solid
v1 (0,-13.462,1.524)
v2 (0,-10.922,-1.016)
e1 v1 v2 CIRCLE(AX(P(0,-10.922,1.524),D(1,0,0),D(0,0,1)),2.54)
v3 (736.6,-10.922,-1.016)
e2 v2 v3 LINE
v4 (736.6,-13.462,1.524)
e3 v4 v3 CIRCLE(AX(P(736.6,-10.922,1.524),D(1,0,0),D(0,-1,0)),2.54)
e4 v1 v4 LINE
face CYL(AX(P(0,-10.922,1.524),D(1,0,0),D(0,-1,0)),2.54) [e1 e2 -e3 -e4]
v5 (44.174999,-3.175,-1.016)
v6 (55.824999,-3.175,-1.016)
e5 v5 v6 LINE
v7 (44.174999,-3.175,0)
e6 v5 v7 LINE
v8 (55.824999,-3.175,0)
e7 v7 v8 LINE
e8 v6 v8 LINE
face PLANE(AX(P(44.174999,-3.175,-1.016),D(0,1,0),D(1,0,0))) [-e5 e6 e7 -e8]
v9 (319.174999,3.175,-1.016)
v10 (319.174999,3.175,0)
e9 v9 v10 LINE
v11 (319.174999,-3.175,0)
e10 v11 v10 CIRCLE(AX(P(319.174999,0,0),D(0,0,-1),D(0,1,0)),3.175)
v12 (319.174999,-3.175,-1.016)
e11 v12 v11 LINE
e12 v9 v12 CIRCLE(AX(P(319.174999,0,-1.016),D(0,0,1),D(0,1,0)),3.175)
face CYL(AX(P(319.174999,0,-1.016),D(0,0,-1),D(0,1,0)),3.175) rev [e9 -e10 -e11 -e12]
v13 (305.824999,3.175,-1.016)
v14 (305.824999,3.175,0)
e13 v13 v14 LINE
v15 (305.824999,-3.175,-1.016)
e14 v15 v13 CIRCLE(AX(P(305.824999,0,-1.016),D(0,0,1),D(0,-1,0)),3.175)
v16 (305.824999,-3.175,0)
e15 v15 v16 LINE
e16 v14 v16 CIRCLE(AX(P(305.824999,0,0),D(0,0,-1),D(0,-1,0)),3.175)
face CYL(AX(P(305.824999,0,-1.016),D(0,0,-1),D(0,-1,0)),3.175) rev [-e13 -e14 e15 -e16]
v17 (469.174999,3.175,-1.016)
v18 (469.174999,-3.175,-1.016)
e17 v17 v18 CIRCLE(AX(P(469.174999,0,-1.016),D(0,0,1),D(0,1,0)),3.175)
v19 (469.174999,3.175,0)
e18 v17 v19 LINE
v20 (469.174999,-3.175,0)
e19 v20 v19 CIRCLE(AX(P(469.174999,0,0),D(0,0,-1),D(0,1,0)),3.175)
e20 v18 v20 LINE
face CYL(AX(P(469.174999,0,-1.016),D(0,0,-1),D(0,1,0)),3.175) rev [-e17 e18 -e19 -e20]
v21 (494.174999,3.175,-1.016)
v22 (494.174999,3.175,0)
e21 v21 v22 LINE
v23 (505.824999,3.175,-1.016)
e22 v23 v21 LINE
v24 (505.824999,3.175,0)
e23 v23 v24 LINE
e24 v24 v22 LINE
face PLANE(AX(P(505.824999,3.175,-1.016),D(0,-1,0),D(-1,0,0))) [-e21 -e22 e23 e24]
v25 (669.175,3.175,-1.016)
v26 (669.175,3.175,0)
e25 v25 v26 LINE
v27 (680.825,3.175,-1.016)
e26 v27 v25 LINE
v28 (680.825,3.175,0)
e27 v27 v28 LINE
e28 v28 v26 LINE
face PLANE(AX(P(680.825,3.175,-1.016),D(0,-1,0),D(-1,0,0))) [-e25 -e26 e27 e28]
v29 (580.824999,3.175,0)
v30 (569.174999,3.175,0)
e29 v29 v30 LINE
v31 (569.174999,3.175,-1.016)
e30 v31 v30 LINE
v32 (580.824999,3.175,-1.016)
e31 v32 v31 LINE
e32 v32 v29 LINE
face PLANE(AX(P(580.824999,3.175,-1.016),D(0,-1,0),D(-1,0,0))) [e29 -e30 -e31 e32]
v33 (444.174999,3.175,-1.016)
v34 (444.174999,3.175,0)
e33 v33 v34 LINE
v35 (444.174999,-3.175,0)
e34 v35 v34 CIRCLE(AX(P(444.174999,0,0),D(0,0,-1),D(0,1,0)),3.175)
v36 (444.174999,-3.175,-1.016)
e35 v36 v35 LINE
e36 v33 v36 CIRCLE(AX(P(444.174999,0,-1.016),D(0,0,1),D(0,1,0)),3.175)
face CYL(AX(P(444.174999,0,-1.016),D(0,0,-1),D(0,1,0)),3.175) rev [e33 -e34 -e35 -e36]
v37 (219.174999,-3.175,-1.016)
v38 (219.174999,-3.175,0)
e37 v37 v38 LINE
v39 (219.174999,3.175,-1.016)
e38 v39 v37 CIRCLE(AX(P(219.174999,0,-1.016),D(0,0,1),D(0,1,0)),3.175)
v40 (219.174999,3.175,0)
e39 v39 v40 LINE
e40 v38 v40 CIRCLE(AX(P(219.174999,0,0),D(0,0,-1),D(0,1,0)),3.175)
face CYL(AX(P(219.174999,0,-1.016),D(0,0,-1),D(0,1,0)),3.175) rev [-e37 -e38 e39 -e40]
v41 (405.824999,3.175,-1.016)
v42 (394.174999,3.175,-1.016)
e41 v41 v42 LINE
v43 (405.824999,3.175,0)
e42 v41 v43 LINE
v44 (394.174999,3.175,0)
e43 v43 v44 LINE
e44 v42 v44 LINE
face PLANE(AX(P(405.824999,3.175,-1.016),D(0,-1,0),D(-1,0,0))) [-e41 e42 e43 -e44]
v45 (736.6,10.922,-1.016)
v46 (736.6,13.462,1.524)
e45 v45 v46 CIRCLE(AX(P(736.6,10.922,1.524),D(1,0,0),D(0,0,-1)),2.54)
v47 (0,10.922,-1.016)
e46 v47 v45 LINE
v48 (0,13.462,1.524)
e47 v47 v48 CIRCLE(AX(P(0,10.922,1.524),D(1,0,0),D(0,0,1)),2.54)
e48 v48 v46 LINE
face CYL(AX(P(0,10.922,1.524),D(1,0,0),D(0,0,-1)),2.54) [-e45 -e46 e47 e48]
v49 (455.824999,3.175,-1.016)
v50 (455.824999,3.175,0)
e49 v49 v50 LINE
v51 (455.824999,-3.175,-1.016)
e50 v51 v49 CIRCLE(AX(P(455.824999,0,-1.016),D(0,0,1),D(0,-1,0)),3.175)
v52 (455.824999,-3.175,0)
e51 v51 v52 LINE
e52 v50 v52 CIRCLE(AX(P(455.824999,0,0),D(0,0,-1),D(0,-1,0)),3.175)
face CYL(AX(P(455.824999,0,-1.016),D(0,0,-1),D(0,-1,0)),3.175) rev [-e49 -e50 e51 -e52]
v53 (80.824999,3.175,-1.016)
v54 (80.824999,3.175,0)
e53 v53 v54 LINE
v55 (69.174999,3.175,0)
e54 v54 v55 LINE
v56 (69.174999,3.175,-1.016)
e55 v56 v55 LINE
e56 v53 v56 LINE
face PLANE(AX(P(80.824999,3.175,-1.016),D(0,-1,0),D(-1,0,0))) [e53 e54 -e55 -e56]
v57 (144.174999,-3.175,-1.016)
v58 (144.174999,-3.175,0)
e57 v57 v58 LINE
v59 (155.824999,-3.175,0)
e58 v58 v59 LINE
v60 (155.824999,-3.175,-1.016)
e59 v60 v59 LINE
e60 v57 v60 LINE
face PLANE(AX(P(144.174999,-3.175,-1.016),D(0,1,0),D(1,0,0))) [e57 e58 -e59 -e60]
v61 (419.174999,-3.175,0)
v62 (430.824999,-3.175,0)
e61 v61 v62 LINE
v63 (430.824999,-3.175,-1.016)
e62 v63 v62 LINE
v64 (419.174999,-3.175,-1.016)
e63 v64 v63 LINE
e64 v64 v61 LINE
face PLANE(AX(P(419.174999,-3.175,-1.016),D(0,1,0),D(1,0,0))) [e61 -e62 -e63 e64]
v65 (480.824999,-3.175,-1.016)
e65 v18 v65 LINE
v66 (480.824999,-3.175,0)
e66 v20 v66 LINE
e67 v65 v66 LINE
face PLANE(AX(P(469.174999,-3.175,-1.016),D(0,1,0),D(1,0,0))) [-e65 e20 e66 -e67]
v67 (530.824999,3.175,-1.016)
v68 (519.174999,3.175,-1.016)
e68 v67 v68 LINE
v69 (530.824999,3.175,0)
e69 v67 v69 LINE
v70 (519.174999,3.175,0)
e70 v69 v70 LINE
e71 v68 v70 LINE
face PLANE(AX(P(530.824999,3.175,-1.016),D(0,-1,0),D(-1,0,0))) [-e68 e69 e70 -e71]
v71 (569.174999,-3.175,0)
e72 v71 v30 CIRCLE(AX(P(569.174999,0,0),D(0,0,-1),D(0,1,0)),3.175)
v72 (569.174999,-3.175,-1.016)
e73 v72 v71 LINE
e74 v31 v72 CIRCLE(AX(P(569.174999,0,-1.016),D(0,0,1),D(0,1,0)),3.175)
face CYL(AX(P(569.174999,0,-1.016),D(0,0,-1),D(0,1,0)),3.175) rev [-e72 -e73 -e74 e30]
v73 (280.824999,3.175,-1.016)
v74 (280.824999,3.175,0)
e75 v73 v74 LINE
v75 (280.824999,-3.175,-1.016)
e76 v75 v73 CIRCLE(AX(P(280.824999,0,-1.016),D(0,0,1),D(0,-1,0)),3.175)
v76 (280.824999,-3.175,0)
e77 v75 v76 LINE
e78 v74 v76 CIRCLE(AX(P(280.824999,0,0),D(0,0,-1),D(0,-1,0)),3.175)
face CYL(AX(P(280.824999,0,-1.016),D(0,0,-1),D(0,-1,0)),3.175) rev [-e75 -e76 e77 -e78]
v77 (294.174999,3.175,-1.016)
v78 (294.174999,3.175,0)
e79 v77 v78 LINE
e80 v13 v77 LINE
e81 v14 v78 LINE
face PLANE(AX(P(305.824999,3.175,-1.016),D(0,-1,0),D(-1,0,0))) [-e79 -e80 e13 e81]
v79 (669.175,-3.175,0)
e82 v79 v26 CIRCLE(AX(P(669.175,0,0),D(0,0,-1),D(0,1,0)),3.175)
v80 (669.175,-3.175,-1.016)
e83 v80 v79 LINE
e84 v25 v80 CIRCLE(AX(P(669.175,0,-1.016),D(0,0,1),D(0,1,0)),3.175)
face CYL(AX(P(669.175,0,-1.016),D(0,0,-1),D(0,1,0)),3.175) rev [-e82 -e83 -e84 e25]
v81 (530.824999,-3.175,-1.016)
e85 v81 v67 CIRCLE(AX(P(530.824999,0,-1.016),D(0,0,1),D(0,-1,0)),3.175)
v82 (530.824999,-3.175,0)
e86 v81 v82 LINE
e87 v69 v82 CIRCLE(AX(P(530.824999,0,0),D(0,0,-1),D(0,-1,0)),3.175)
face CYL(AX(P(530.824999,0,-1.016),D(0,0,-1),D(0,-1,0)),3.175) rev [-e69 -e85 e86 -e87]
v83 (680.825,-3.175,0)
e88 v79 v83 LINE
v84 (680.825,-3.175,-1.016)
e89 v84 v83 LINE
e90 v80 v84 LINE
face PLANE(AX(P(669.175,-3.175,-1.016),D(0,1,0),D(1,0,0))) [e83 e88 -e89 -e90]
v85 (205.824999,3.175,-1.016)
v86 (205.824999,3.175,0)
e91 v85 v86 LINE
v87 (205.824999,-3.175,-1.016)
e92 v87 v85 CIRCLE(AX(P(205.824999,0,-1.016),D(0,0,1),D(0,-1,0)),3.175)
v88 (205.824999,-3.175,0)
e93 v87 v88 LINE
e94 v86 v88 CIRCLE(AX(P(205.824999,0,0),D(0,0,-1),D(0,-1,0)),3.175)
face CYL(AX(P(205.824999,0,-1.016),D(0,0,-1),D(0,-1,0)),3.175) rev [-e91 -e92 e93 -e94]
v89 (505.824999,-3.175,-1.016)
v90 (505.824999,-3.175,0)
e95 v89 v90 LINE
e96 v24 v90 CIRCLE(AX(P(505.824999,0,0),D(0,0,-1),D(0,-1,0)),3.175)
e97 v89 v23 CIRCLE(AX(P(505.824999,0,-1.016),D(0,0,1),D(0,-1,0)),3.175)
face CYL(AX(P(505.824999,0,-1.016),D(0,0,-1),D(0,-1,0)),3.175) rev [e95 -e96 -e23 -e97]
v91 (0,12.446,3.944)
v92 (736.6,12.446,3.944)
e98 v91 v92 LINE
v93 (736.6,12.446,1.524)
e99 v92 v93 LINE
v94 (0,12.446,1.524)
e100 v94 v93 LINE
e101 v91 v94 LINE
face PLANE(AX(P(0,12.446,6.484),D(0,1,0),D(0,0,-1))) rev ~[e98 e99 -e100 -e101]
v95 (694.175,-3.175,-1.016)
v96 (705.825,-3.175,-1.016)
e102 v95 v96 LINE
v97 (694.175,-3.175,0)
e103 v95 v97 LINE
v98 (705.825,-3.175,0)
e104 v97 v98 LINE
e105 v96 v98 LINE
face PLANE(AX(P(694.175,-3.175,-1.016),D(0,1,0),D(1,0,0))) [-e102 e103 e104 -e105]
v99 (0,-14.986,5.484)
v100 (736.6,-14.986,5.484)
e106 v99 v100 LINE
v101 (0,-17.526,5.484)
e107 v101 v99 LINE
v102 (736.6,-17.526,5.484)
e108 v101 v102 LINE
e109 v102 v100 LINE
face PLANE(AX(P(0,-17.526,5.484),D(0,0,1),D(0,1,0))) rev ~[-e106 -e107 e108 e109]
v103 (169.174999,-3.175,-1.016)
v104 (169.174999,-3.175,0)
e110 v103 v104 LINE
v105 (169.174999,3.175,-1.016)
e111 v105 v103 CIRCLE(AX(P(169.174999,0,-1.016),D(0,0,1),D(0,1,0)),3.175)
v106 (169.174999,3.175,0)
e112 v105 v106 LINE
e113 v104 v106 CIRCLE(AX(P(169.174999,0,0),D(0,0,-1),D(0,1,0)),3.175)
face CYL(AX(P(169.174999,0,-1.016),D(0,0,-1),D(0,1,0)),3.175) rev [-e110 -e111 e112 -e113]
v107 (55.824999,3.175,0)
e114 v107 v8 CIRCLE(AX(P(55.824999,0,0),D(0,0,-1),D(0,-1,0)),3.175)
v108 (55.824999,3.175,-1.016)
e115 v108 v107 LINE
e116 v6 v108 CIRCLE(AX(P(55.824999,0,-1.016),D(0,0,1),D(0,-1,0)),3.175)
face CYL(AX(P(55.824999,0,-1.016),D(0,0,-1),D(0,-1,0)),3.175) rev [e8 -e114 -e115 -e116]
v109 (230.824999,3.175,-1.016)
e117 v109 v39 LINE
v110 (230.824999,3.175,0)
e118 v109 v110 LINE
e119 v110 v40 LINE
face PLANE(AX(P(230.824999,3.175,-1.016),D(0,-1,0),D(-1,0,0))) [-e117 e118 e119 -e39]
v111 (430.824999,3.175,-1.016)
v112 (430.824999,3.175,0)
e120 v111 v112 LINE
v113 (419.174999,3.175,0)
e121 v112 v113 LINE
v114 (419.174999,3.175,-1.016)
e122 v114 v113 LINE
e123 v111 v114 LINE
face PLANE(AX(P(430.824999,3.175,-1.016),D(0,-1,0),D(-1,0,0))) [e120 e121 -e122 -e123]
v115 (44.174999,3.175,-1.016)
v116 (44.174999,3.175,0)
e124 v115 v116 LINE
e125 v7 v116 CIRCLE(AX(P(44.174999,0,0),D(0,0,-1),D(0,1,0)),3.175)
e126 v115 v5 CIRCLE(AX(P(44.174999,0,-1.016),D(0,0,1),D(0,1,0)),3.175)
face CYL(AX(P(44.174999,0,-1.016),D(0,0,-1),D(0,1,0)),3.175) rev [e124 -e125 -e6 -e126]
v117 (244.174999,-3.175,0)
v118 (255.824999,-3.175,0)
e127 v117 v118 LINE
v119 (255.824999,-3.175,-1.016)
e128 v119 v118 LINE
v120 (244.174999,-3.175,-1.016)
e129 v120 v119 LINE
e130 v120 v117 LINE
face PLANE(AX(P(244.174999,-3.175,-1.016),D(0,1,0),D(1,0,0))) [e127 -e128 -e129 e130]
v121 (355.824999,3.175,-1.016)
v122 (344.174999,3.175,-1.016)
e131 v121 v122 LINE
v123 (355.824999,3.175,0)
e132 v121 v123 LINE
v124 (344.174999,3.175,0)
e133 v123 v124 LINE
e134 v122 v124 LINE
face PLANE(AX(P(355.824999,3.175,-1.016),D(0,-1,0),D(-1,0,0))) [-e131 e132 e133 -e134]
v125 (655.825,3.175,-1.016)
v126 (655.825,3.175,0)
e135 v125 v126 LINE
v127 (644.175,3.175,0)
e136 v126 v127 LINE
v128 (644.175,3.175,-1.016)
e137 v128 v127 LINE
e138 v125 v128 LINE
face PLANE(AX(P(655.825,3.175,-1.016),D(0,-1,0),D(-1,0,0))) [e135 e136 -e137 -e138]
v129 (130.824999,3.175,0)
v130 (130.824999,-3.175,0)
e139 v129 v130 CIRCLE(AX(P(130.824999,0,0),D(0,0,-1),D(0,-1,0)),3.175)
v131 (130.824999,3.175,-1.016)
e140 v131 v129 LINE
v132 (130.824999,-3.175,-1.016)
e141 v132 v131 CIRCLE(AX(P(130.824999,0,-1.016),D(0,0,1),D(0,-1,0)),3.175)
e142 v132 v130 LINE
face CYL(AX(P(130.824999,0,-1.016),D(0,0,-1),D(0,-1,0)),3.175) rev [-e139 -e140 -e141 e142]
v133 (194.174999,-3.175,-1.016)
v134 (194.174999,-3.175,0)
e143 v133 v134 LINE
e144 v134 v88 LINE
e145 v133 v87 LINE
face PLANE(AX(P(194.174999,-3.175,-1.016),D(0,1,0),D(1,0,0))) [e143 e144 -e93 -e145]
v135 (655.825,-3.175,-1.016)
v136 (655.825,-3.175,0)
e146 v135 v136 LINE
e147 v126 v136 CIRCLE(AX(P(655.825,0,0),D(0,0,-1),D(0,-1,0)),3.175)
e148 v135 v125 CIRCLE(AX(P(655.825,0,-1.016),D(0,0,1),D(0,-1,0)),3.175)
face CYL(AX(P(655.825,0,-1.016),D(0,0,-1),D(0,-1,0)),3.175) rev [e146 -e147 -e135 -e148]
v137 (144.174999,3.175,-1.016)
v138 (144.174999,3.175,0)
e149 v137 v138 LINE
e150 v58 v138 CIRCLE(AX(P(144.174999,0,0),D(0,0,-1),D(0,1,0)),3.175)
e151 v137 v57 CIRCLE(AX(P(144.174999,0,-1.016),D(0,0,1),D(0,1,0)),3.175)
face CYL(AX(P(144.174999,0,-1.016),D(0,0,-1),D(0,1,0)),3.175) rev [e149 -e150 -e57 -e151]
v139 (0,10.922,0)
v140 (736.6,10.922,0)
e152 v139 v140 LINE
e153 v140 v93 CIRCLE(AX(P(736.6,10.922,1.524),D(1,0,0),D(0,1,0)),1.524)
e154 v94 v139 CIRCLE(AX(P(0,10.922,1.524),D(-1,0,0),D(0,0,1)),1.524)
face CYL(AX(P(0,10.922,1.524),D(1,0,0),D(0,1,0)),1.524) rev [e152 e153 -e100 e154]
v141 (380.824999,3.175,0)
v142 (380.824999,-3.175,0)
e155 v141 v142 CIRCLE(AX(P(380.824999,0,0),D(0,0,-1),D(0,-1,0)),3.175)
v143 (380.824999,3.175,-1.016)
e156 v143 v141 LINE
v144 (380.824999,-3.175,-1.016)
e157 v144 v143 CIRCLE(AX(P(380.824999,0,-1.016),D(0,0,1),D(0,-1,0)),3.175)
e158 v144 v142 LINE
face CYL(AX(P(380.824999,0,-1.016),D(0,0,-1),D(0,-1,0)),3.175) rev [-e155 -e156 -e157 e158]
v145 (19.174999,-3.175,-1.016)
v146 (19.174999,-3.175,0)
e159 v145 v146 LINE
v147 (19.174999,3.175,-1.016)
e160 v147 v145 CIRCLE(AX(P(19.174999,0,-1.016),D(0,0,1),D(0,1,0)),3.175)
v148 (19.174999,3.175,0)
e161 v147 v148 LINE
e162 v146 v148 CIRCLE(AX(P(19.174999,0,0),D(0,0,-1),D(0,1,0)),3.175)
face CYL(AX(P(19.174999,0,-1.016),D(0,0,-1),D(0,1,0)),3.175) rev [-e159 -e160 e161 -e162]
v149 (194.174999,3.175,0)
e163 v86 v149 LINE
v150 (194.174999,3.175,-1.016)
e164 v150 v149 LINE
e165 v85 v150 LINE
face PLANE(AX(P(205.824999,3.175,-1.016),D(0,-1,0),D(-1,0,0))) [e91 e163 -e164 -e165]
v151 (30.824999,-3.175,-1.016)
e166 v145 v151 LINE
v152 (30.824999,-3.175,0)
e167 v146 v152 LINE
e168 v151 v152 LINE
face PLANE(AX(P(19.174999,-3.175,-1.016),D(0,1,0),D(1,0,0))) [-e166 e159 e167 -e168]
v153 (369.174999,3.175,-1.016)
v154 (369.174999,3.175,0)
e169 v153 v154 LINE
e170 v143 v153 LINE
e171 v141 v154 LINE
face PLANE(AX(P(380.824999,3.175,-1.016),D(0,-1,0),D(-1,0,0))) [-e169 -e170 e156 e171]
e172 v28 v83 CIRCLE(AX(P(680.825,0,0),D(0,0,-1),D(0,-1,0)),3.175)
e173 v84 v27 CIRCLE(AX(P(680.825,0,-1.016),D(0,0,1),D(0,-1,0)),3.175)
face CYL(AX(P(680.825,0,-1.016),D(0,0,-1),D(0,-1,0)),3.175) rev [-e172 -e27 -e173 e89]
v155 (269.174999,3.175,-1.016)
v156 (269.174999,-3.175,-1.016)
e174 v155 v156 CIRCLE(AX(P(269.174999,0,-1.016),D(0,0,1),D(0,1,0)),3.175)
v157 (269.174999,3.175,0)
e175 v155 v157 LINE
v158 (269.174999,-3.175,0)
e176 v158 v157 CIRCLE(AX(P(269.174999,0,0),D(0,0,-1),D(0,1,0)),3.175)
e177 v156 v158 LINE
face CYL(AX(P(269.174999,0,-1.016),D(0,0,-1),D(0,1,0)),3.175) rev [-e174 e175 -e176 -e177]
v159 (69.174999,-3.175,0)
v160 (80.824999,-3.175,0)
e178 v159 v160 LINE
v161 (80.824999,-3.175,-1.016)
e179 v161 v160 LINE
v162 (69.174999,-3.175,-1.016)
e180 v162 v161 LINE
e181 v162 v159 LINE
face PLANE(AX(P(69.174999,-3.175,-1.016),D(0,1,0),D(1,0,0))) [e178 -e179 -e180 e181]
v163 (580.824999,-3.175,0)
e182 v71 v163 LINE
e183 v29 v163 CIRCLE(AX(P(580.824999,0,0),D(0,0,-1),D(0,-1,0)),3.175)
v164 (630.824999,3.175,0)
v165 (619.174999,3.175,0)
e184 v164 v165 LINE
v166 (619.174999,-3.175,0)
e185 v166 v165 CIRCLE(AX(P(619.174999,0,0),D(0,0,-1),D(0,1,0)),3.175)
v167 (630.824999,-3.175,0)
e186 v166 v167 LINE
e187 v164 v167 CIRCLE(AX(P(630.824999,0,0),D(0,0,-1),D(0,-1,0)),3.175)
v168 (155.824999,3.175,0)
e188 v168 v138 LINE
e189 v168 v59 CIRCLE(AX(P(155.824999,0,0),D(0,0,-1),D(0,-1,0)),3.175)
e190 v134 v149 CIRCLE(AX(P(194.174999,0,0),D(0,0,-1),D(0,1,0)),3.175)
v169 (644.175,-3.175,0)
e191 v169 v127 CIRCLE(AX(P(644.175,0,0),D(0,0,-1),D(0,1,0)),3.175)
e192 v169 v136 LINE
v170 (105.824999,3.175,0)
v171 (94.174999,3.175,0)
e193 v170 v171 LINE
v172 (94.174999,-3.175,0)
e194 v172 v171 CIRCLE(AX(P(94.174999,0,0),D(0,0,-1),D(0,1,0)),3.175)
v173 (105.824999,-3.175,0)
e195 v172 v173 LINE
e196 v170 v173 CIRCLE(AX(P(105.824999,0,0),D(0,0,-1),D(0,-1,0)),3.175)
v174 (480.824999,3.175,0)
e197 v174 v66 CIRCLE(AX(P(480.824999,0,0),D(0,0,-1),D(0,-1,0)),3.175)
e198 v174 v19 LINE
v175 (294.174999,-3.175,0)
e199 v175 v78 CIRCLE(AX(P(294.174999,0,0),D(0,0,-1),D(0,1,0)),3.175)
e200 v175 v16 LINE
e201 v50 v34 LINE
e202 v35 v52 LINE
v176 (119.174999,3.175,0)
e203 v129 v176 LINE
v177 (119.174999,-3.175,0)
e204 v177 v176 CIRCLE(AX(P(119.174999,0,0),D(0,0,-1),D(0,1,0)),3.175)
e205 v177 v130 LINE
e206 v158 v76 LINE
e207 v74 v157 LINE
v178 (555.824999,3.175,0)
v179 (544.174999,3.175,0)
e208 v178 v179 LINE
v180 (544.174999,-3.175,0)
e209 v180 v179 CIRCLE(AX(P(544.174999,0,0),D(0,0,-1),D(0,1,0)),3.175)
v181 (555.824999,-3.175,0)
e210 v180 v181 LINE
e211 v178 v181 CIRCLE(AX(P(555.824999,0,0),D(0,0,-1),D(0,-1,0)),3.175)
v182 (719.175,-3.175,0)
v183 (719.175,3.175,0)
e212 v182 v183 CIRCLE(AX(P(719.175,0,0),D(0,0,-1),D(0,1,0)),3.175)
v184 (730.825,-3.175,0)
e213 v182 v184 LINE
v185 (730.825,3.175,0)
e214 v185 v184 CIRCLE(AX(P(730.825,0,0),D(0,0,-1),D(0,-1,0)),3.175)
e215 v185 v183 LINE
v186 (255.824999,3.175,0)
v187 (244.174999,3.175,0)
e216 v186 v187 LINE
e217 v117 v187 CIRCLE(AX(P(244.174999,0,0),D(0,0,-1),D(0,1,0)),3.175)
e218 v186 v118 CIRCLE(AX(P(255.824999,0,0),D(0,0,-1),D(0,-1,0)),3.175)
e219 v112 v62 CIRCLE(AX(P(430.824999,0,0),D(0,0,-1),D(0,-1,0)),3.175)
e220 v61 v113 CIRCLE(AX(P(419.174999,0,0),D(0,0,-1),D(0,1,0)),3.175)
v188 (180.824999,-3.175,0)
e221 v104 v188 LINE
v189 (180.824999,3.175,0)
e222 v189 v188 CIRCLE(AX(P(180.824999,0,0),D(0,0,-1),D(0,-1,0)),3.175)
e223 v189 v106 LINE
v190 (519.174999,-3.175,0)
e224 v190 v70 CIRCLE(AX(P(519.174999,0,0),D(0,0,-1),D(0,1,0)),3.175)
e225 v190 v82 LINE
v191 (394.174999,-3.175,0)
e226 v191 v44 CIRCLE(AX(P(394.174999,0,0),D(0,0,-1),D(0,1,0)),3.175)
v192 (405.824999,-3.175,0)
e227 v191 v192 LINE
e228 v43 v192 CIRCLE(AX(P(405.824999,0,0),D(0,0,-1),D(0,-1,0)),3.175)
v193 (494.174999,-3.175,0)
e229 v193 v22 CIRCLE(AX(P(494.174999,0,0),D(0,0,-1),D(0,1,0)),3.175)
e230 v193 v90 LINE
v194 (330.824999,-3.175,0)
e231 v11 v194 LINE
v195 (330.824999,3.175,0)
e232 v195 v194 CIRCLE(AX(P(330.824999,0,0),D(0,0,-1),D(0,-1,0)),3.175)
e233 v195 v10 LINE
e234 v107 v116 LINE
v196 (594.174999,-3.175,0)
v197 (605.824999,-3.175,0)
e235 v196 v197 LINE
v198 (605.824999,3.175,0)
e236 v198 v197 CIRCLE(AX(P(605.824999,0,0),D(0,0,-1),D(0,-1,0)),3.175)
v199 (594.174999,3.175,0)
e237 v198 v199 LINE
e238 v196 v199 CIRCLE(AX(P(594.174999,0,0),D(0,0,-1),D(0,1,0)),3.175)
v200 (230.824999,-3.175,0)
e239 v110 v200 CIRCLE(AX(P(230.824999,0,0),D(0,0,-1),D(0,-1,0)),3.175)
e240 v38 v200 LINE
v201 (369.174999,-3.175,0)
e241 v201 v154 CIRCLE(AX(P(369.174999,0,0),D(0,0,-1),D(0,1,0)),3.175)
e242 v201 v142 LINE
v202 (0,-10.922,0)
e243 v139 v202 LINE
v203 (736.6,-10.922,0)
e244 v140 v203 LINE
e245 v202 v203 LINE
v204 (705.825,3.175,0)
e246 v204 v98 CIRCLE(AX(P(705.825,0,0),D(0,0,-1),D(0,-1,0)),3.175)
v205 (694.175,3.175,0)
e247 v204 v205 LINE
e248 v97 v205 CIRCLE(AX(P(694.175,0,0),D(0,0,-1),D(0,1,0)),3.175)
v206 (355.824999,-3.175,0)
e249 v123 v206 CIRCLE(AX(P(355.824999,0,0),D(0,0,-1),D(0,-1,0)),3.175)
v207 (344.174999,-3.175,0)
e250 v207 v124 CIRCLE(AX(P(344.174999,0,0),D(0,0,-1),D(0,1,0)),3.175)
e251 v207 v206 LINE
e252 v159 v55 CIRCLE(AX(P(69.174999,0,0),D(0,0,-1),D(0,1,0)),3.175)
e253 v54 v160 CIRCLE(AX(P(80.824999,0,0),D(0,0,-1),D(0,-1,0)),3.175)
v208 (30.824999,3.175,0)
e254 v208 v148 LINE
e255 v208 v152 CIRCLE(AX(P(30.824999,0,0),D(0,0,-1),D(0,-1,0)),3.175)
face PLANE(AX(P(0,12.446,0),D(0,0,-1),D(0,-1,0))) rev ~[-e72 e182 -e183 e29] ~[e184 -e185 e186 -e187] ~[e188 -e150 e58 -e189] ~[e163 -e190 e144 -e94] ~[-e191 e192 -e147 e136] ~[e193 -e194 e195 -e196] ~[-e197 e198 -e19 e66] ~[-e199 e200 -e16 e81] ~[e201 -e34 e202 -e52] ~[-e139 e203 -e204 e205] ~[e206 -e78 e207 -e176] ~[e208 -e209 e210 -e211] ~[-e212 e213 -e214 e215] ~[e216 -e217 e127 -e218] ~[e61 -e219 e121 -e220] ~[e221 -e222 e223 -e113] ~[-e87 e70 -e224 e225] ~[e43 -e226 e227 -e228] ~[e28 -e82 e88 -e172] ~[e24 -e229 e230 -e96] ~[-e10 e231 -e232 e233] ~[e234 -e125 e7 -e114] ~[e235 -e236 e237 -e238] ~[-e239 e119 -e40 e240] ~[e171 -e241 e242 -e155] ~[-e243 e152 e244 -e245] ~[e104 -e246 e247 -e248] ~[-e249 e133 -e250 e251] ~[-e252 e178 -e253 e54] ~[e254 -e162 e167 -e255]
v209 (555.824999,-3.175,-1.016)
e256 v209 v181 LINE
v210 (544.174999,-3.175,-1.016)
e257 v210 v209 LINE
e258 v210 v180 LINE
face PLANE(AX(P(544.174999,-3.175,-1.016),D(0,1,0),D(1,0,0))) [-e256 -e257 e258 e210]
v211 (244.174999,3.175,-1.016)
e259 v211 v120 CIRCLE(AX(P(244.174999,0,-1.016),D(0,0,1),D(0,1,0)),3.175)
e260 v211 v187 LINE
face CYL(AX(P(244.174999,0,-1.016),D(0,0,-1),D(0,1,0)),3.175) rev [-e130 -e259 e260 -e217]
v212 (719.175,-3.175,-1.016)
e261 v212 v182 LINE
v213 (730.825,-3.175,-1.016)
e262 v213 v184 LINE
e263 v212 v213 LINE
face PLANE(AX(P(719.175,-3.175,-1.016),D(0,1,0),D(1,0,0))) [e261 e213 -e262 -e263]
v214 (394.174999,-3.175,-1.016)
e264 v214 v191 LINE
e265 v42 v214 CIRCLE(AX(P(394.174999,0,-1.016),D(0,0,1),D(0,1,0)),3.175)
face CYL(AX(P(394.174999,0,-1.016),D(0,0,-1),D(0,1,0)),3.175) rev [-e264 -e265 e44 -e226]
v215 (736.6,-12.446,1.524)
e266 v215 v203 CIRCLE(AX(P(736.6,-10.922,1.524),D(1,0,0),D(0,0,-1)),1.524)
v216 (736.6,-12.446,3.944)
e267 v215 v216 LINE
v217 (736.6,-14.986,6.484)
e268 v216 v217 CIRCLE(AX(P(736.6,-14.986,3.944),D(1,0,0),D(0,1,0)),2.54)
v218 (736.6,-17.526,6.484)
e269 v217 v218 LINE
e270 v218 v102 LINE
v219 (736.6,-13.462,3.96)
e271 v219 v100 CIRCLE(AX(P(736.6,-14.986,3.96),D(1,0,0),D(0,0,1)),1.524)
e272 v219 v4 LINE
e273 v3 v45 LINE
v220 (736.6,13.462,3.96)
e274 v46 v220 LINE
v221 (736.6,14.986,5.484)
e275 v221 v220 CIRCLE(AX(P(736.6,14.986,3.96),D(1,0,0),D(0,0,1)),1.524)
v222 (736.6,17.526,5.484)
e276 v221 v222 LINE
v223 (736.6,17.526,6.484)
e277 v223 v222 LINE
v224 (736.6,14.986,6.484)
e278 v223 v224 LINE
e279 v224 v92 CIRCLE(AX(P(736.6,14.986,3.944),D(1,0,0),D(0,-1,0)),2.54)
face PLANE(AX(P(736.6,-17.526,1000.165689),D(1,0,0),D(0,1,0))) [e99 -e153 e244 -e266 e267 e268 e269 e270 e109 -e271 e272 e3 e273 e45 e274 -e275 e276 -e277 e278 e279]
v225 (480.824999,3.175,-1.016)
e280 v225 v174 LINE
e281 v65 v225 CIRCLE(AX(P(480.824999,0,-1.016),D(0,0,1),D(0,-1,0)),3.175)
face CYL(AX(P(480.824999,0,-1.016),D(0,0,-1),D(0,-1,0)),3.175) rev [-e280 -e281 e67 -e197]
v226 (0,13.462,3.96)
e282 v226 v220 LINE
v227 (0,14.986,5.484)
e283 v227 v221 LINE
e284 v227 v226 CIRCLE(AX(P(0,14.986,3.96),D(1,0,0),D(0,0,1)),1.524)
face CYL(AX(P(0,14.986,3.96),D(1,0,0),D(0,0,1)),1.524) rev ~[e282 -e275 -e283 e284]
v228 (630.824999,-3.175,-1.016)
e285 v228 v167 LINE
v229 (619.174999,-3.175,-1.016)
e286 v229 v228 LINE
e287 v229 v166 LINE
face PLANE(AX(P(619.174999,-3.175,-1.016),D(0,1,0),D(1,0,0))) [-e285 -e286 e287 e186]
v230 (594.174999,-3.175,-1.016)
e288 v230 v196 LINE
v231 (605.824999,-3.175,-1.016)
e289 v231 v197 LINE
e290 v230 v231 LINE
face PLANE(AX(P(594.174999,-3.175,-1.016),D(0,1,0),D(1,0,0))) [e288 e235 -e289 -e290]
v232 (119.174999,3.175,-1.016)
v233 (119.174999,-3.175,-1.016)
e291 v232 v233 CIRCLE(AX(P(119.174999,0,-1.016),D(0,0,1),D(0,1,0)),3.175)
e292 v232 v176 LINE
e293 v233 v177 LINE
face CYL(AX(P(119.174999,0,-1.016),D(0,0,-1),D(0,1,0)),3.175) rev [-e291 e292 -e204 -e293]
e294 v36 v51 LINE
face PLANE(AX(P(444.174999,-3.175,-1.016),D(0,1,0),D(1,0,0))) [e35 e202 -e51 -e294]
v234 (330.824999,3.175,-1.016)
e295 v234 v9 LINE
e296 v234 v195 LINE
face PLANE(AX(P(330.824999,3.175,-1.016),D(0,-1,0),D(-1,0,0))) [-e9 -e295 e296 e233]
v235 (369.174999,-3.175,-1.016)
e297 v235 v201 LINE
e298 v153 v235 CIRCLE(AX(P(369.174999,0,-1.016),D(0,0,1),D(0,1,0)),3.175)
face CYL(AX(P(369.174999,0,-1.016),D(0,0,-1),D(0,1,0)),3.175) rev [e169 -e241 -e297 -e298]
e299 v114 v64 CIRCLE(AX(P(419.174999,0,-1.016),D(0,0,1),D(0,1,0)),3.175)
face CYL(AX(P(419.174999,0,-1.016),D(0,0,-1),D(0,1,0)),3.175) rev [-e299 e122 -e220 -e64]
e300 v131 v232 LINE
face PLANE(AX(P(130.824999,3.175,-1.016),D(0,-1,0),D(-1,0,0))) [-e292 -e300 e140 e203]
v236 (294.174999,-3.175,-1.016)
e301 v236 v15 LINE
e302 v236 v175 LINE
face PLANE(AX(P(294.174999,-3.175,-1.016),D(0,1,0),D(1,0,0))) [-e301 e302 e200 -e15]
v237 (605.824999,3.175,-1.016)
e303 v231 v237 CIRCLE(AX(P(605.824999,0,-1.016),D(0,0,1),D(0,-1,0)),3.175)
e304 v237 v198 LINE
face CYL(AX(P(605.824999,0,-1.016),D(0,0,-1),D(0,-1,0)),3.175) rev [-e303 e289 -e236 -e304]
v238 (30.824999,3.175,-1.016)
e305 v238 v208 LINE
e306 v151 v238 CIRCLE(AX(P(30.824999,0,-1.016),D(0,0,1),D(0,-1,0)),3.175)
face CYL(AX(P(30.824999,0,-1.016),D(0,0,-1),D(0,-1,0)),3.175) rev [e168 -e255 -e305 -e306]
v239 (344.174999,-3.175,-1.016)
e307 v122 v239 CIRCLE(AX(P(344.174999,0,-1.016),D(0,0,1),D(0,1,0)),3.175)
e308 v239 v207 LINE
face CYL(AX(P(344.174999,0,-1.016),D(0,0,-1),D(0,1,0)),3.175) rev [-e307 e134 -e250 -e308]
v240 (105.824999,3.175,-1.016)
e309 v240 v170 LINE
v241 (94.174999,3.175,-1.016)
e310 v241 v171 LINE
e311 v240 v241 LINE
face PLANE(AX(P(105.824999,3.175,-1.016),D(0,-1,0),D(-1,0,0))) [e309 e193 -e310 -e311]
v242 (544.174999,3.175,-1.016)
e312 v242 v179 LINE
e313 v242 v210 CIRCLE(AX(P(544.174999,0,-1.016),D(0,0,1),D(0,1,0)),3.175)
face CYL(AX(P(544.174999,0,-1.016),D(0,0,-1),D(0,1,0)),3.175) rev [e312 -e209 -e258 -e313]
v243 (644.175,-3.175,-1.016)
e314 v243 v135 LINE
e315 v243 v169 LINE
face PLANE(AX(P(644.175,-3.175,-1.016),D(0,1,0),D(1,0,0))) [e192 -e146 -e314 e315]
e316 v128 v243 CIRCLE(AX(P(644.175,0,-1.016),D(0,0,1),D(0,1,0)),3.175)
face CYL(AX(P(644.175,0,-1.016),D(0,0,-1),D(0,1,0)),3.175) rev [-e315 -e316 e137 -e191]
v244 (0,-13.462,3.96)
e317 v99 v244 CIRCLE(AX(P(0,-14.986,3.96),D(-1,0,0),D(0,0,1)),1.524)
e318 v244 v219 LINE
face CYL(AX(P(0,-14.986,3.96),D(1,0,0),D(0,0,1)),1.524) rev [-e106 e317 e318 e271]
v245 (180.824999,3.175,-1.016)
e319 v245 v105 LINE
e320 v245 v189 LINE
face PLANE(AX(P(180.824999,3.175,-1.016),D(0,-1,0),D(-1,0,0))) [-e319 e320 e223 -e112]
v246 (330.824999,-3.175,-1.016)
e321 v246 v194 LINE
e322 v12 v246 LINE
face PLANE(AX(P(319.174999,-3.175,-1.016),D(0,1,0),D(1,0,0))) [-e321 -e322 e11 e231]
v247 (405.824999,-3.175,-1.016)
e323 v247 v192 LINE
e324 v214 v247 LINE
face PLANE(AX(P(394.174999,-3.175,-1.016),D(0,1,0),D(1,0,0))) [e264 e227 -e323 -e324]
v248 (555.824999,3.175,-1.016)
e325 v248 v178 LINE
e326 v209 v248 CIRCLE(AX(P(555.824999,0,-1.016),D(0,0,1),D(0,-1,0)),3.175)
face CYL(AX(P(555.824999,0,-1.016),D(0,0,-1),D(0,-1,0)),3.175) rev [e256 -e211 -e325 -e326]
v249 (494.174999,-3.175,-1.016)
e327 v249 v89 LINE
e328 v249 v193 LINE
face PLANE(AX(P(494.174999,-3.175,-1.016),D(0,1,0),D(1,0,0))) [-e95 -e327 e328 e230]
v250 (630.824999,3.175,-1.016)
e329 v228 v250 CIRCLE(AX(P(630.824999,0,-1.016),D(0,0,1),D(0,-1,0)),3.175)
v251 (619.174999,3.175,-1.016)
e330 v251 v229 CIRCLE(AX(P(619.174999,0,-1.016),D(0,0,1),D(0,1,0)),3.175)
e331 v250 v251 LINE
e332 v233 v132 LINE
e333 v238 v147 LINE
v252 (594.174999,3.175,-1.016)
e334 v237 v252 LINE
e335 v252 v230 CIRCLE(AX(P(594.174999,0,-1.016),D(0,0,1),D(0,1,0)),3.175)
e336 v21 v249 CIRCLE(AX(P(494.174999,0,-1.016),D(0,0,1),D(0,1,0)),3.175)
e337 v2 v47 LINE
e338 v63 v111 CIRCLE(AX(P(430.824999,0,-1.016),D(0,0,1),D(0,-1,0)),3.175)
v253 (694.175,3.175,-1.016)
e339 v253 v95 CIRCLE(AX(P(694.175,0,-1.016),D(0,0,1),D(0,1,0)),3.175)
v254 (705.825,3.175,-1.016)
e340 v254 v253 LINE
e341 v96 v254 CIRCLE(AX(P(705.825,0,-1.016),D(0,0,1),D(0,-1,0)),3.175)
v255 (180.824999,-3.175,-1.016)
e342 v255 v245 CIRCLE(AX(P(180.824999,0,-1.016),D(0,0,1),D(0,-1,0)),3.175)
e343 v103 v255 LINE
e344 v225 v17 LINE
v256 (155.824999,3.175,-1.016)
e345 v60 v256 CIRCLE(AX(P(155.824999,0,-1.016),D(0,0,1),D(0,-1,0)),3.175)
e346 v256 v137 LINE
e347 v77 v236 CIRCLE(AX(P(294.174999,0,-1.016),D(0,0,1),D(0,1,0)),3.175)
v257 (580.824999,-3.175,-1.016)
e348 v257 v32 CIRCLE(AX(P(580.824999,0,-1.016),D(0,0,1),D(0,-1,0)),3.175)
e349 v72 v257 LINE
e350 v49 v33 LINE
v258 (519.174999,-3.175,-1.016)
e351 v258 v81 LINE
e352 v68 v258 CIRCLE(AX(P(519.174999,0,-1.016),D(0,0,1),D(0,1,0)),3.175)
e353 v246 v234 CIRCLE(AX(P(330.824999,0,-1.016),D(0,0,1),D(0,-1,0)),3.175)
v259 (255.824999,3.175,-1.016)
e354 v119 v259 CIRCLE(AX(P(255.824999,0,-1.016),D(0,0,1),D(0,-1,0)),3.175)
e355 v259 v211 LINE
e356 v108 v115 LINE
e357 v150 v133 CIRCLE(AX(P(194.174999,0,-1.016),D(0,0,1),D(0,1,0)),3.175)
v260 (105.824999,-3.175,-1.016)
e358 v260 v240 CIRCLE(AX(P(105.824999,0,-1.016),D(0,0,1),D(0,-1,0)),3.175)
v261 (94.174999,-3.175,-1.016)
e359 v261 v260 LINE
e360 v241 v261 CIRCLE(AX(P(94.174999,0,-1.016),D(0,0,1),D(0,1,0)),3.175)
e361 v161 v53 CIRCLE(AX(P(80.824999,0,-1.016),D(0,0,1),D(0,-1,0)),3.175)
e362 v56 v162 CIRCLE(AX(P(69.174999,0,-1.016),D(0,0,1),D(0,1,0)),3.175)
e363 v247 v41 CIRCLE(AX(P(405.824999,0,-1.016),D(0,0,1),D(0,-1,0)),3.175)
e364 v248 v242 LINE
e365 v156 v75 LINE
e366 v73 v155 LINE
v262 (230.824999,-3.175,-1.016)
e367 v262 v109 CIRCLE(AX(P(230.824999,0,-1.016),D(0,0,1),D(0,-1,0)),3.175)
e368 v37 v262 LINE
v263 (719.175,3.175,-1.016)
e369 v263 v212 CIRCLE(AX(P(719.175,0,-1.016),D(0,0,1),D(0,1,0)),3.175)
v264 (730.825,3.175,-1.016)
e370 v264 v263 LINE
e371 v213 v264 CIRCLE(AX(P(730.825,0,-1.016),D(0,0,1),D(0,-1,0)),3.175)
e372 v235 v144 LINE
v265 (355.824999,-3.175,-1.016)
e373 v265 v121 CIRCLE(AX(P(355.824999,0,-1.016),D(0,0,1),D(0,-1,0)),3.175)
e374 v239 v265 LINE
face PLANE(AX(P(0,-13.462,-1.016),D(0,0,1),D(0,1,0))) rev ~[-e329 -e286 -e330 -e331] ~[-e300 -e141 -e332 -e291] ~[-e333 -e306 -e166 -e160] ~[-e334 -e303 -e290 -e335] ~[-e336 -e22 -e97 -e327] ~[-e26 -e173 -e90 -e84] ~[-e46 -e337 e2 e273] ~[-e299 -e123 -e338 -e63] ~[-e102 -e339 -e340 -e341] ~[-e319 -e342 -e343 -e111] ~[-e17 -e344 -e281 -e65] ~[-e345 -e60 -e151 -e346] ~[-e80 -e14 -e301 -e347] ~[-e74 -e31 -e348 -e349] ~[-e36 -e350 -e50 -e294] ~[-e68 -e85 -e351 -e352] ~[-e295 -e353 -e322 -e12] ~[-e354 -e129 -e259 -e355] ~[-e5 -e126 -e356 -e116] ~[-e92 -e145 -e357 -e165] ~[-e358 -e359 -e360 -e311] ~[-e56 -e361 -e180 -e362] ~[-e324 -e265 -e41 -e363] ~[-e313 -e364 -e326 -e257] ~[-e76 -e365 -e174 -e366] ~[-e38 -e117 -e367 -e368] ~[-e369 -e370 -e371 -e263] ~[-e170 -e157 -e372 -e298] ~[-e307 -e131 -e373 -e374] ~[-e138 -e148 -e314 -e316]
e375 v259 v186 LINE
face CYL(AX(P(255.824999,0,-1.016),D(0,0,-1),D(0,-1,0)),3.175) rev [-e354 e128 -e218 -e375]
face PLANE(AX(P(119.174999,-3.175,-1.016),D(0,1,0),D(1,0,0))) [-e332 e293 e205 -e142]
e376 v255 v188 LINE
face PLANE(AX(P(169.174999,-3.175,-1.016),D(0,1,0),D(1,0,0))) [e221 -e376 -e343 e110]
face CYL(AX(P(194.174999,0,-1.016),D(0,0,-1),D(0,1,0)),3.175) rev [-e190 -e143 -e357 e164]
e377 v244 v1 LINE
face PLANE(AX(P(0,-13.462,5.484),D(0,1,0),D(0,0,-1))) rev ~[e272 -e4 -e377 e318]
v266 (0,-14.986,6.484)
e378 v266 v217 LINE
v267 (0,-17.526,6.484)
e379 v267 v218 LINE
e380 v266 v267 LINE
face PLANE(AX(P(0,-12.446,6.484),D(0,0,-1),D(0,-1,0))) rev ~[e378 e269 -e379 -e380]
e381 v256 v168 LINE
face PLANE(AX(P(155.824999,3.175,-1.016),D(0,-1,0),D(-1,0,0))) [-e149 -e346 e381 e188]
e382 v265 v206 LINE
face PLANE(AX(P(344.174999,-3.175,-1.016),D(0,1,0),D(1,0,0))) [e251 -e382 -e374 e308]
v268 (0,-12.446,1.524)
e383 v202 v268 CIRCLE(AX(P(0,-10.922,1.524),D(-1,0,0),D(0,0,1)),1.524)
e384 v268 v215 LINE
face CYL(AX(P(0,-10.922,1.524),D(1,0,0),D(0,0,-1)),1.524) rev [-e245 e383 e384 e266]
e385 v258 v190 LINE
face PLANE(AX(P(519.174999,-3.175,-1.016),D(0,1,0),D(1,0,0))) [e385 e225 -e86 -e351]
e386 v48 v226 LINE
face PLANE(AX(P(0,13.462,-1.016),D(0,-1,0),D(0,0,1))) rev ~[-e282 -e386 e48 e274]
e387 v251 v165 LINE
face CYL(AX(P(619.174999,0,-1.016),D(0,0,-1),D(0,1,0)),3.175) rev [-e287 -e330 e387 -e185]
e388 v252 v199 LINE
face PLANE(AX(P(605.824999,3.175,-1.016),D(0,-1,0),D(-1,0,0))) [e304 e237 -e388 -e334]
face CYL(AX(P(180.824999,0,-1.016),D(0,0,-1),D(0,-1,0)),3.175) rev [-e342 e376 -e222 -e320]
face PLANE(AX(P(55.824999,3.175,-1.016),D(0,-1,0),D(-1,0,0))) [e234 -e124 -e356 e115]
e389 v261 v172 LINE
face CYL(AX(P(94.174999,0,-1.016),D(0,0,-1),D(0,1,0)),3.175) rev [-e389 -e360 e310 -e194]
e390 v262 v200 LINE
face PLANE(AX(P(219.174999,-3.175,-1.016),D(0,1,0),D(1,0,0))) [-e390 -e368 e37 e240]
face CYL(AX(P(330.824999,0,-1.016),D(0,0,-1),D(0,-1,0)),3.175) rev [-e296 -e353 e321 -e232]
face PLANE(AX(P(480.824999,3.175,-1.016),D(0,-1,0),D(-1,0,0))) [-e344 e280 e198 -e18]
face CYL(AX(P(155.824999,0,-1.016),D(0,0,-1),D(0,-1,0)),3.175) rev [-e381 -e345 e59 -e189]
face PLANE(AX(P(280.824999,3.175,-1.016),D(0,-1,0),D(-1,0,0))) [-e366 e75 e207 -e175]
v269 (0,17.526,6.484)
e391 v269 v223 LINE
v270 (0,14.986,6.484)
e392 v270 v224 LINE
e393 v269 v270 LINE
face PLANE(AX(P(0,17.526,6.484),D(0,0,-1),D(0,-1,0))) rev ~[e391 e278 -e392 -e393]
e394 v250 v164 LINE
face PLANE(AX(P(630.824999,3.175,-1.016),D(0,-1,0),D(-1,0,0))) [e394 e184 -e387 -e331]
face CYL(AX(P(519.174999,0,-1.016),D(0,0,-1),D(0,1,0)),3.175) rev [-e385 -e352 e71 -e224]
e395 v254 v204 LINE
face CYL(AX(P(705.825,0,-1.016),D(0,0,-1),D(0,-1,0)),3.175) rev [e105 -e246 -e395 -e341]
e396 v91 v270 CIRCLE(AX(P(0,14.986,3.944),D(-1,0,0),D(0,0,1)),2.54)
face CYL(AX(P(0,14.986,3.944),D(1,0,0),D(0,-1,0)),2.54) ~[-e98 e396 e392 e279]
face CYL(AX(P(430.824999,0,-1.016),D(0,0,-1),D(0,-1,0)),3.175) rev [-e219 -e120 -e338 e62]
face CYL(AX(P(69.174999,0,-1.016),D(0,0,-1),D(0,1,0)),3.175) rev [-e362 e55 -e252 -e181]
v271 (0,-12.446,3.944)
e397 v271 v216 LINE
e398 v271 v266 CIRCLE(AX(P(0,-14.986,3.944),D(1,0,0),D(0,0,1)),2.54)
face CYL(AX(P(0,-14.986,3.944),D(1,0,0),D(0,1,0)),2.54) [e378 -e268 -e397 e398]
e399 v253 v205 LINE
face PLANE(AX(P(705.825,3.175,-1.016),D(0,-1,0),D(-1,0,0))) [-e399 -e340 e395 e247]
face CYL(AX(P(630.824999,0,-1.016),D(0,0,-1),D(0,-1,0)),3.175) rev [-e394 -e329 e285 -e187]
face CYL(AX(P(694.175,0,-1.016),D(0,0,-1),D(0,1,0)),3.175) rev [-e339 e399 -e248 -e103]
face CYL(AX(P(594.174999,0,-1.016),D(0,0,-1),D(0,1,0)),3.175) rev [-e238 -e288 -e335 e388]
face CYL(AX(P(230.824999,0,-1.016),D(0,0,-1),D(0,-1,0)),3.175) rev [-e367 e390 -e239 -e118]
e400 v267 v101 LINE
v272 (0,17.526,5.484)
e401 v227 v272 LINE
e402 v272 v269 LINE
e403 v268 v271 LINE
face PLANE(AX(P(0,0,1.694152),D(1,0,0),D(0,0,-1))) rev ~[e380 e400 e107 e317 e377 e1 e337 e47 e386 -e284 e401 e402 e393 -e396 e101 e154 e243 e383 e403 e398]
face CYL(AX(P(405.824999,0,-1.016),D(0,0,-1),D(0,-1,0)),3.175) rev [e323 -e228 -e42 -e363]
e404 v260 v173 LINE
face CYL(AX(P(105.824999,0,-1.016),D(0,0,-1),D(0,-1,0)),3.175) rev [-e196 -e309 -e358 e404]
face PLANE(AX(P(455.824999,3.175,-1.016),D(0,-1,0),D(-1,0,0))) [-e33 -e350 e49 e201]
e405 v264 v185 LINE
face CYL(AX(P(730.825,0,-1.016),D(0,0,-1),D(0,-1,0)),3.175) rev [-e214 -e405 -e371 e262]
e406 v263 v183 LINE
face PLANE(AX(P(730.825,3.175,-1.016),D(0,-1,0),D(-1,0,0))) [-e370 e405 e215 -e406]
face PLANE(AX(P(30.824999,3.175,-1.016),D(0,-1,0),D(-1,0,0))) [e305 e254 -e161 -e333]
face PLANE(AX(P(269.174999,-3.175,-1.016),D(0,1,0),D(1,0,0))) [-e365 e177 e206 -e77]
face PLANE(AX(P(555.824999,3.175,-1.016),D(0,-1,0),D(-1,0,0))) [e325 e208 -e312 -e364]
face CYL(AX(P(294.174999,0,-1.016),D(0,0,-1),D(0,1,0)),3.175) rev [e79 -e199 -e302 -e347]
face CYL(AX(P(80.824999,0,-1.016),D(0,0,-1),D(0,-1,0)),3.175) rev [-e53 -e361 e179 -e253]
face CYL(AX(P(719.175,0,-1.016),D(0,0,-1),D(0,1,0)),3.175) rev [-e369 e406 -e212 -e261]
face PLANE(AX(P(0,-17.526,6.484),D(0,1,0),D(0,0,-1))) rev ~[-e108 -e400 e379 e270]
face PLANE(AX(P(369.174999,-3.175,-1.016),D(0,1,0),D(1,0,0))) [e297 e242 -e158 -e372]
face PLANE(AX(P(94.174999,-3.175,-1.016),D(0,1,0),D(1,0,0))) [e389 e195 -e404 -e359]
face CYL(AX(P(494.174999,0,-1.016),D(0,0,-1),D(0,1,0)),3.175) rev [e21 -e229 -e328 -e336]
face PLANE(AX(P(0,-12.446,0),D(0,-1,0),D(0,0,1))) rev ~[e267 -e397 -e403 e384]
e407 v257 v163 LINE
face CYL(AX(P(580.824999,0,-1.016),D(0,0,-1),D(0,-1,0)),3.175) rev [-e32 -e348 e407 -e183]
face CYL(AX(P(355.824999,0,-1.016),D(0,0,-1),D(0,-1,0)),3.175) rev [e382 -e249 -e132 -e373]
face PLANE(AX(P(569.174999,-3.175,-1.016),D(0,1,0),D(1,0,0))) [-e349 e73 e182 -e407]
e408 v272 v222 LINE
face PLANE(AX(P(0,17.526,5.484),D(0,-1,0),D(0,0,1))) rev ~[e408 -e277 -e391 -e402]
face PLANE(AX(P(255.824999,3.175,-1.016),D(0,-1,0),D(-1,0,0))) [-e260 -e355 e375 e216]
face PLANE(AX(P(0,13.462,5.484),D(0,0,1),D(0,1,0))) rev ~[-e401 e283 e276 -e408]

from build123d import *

# Parameters (mm, degrees)
BOSS_EXTRUDE1_DEPTH     = 1000
CUT_EXTRUDE1_DEPTH      = 1001.181688833
FILLET1_R               = 2.54
FILLET2_R               = 1.524
CUT_EXTRUDE2_DEPTH      = 1001.181688833
CUT_EXTRUDE2_DEPTH_BACK = 1001.181688833
SKETCH3_W               = 263.4
SKETCH3_H               = 35.052


with BuildPart() as part:
    # Sketch1 → Boss-Extrude1 (new body)
    with BuildSketch(Plane(origin=(0, 0, 0), x_dir=(0, 0, -1), z_dir=(1, 0, 0))):
        Polygon((0, 12.446), (0, -12.446), (-6.484, -12.446), (-6.484, -17.526), (-5.484, -17.526), (-5.484, -13.462), (1.016, -13.462), (1.016, 13.462), (-5.484, 13.462), (-5.484, 17.526), (-6.484, 17.526), (-6.484, 12.446), align=None)
    extrude(amount=BOSS_EXTRUDE1_DEPTH)

    # Sketch2 → Cut-Extrude1 (cut, through all)
    with BuildSketch(Plane(origin=(0, 0, -1.016), x_dir=(-1, 0, 0), z_dir=(0, 0, -1))):
        with BuildLine():
            Line((-980.825, 3.175), (-969.175, 3.175))
            ThreePointArc((-969.175, 3.175), (-966, 0), (-969.175, -3.175))
            Line((-969.175, -3.175), (-980.825, -3.175))
            ThreePointArc((-980.825, -3.175), (-984, 0), (-980.825, 3.175))
        make_face()
        with BuildLine():
            Line((-955.824999962, 3.175), (-944.174999962, 3.175))
            ThreePointArc((-944.174999962, 3.175), (-940.999999962, 0), (-944.174999962, -3.175))
            Line((-944.174999962, -3.175), (-955.824999962, -3.175))
            ThreePointArc((-955.824999962, -3.175), (-958.999999962, 0), (-955.824999962, 3.175))
        make_face()
        with BuildLine():
            Line((-930.824999924, 3.175), (-919.174999924, 3.175))
            ThreePointArc((-919.174999924, 3.175), (-915.999999924, 0), (-919.174999924, -3.175))
            Line((-919.174999924, -3.175), (-930.824999924, -3.175))
            ThreePointArc((-930.824999924, -3.175), (-933.999999924, 0), (-930.824999924, 3.175))
        make_face()
        with BuildLine():
            Line((-905.824999886, 3.175), (-894.174999886, 3.175))
            ThreePointArc((-894.174999886, 3.175), (-890.999999886, 0), (-894.174999886, -3.175))
            Line((-894.174999886, -3.175), (-905.824999886, -3.175))
            ThreePointArc((-905.824999886, -3.175), (-908.999999886, 0), (-905.824999886, 3.175))
        make_face()
        with BuildLine():
            Line((-880.824999848, 3.175), (-869.174999848, 3.175))
            ThreePointArc((-869.174999848, 3.175), (-865.999999848, 0), (-869.174999848, -3.175))
            Line((-869.174999848, -3.175), (-880.824999848, -3.175))
            ThreePointArc((-880.824999848, -3.175), (-883.999999848, 0), (-880.824999848, 3.175))
        make_face()
        with BuildLine():
            Line((-855.82499981, 3.175), (-844.17499981, 3.175))
            ThreePointArc((-844.17499981, 3.175), (-840.99999981, 0), (-844.17499981, -3.175))
            Line((-844.17499981, -3.175), (-855.82499981, -3.175))
            ThreePointArc((-855.82499981, -3.175), (-858.99999981, 0), (-855.82499981, 3.175))
        make_face()
        with BuildLine():
            Line((-830.824999772, 3.175), (-819.174999772, 3.175))
            ThreePointArc((-819.174999772, 3.175), (-815.999999772, 0), (-819.174999772, -3.175))
            Line((-819.174999772, -3.175), (-830.824999772, -3.175))
            ThreePointArc((-830.824999772, -3.175), (-833.999999772, 0), (-830.824999772, 3.175))
        make_face()
        with BuildLine():
            Line((-805.824999734, 3.175), (-794.174999734, 3.175))
            ThreePointArc((-794.174999734, 3.175), (-790.999999734, 0), (-794.174999734, -3.175))
            Line((-794.174999734, -3.175), (-805.824999734, -3.175))
            ThreePointArc((-805.824999734, -3.175), (-808.999999734, 0), (-805.824999734, 3.175))
        make_face()
        with BuildLine():
            Line((-780.824999696, 3.175), (-769.174999696, 3.175))
            ThreePointArc((-769.174999696, 3.175), (-765.999999696, 0), (-769.174999696, -3.175))
            Line((-769.174999696, -3.175), (-780.824999696, -3.175))
            ThreePointArc((-780.824999696, -3.175), (-783.999999696, 0), (-780.824999696, 3.175))
        make_face()
        with BuildLine():
            Line((-755.824999658, 3.175), (-744.174999658, 3.175))
            ThreePointArc((-744.174999658, 3.175), (-740.999999658, 0), (-744.174999658, -3.175))
            Line((-744.174999658, -3.175), (-755.824999658, -3.175))
            ThreePointArc((-755.824999658, -3.175), (-758.999999658, 0), (-755.824999658, 3.175))
        make_face()
        with BuildLine():
            Line((-730.82499962, 3.175), (-719.17499962, 3.175))
            ThreePointArc((-719.17499962, 3.175), (-715.99999962, 0), (-719.17499962, -3.175))
            Line((-719.17499962, -3.175), (-730.82499962, -3.175))
            ThreePointArc((-730.82499962, -3.175), (-733.99999962, 0), (-730.82499962, 3.175))
        make_face()
        with BuildLine():
            Line((-705.824999582, 3.175), (-694.174999582, 3.175))
            ThreePointArc((-694.174999582, 3.175), (-690.999999582, 0), (-694.174999582, -3.175))
            Line((-694.174999582, -3.175), (-705.824999582, -3.175))
            ThreePointArc((-705.824999582, -3.175), (-708.999999582, 0), (-705.824999582, 3.175))
        make_face()
        with BuildLine():
            Line((-680.824999544, 3.175), (-669.174999544, 3.175))
            ThreePointArc((-669.174999544, 3.175), (-665.999999544, 0), (-669.174999544, -3.175))
            Line((-669.174999544, -3.175), (-680.824999544, -3.175))
            ThreePointArc((-680.824999544, -3.175), (-683.999999544, 0), (-680.824999544, 3.175))
        make_face()
        with BuildLine():
            Line((-655.824999506, 3.175), (-644.174999506, 3.175))
            ThreePointArc((-644.174999506, 3.175), (-640.999999506, 0), (-644.174999506, -3.175))
            Line((-644.174999506, -3.175), (-655.824999506, -3.175))
            ThreePointArc((-655.824999506, -3.175), (-658.999999506, 0), (-655.824999506, 3.175))
        make_face()
        with BuildLine():
            Line((-630.824999468, 3.175), (-619.174999468, 3.175))
            ThreePointArc((-619.174999468, 3.175), (-615.999999468, 0), (-619.174999468, -3.175))
            Line((-619.174999468, -3.175), (-630.824999468, -3.175))
            ThreePointArc((-630.824999468, -3.175), (-633.999999468, 0), (-630.824999468, 3.175))
        make_face()
        with BuildLine():
            Line((-605.82499943, 3.175), (-594.17499943, 3.175))
            ThreePointArc((-594.17499943, 3.175), (-590.99999943, 0), (-594.17499943, -3.175))
            Line((-594.17499943, -3.175), (-605.82499943, -3.175))
            ThreePointArc((-605.82499943, -3.175), (-608.99999943, 0), (-605.82499943, 3.175))
        make_face()
        with BuildLine():
            Line((-580.824999392, 3.175), (-569.174999392, 3.175))
            ThreePointArc((-569.174999392, 3.175), (-565.999999392, 0), (-569.174999392, -3.175))
            Line((-569.174999392, -3.175), (-580.824999392, -3.175))
            ThreePointArc((-580.824999392, -3.175), (-583.999999392, 0), (-580.824999392, 3.175))
        make_face()
        with BuildLine():
            Line((-555.824999354, 3.175), (-544.174999354, 3.175))
            ThreePointArc((-544.174999354, 3.175), (-540.999999354, 0), (-544.174999354, -3.175))
            Line((-544.174999354, -3.175), (-555.824999354, -3.175))
            ThreePointArc((-555.824999354, -3.175), (-558.999999354, 0), (-555.824999354, 3.175))
        make_face()
        with BuildLine():
            Line((-530.824999316, 3.175), (-519.174999316, 3.175))
            ThreePointArc((-519.174999316, 3.175), (-515.999999316, 0), (-519.174999316, -3.175))
            Line((-519.174999316, -3.175), (-530.824999316, -3.175))
            ThreePointArc((-530.824999316, -3.175), (-533.999999316, 0), (-530.824999316, 3.175))
        make_face()
        with BuildLine():
            Line((-505.824999278, 3.175), (-494.174999278, 3.175))
            ThreePointArc((-494.174999278, 3.175), (-490.999999278, 0), (-494.174999278, -3.175))
            Line((-494.174999278, -3.175), (-505.824999278, -3.175))
            ThreePointArc((-505.824999278, -3.175), (-508.999999278, 0), (-505.824999278, 3.175))
        make_face()
        with BuildLine():
            Line((-480.82499924, 3.175), (-469.17499924, 3.175))
            ThreePointArc((-469.17499924, 3.175), (-465.99999924, 0), (-469.17499924, -3.175))
            Line((-469.17499924, -3.175), (-480.82499924, -3.175))
            ThreePointArc((-480.82499924, -3.175), (-483.99999924, 0), (-480.82499924, 3.175))
        make_face()
        with BuildLine():
            Line((-455.824999202, 3.175), (-444.174999202, 3.175))
            ThreePointArc((-444.174999202, 3.175), (-440.999999202, 0), (-444.174999202, -3.175))
            Line((-444.174999202, -3.175), (-455.824999202, -3.175))
            ThreePointArc((-455.824999202, -3.175), (-458.999999202, 0), (-455.824999202, 3.175))
        make_face()
        with BuildLine():
            Line((-430.824999164, 3.175), (-419.174999164, 3.175))
            ThreePointArc((-419.174999164, 3.175), (-415.999999164, 0), (-419.174999164, -3.175))
            Line((-419.174999164, -3.175), (-430.824999164, -3.175))
            ThreePointArc((-430.824999164, -3.175), (-433.999999164, 0), (-430.824999164, 3.175))
        make_face()
        with BuildLine():
            Line((-405.824999126, 3.175), (-394.174999126, 3.175))
            ThreePointArc((-394.174999126, 3.175), (-390.999999126, 0), (-394.174999126, -3.175))
            Line((-394.174999126, -3.175), (-405.824999126, -3.175))
            ThreePointArc((-405.824999126, -3.175), (-408.999999126, 0), (-405.824999126, 3.175))
        make_face()
        with BuildLine():
            Line((-380.824999088, 3.175), (-369.174999088, 3.175))
            ThreePointArc((-369.174999088, 3.175), (-365.999999088, 0), (-369.174999088, -3.175))
            Line((-369.174999088, -3.175), (-380.824999088, -3.175))
            ThreePointArc((-380.824999088, -3.175), (-383.999999088, 0), (-380.824999088, 3.175))
        make_face()
        with BuildLine():
            Line((-355.82499905, 3.175), (-344.17499905, 3.175))
            ThreePointArc((-344.17499905, 3.175), (-340.99999905, 0), (-344.17499905, -3.175))
            Line((-344.17499905, -3.175), (-355.82499905, -3.175))
            ThreePointArc((-355.82499905, -3.175), (-358.99999905, 0), (-355.82499905, 3.175))
        make_face()
        with BuildLine():
            Line((-330.824999012, 3.175), (-319.174999012, 3.175))
            ThreePointArc((-319.174999012, 3.175), (-315.999999012, 0), (-319.174999012, -3.175))
            Line((-319.174999012, -3.175), (-330.824999012, -3.175))
            ThreePointArc((-330.824999012, -3.175), (-333.999999012, 0), (-330.824999012, 3.175))
        make_face()
        with BuildLine():
            Line((-305.824998974, 3.175), (-294.174998974, 3.175))
            ThreePointArc((-294.174998974, 3.175), (-290.999998974, 0), (-294.174998974, -3.175))
            Line((-294.174998974, -3.175), (-305.824998974, -3.175))
            ThreePointArc((-305.824998974, -3.175), (-308.999998974, 0), (-305.824998974, 3.175))
        make_face()
        with BuildLine():
            Line((-280.824998936, 3.175), (-269.174998936, 3.175))
            ThreePointArc((-269.174998936, 3.175), (-265.999998936, 0), (-269.174998936, -3.175))
            Line((-269.174998936, -3.175), (-280.824998936, -3.175))
            ThreePointArc((-280.824998936, -3.175), (-283.999998936, 0), (-280.824998936, 3.175))
        make_face()
        with BuildLine():
            Line((-255.824998898, 3.175), (-244.174998898, 3.175))
            ThreePointArc((-244.174998898, 3.175), (-240.999998898, 0), (-244.174998898, -3.175))
            Line((-244.174998898, -3.175), (-255.824998898, -3.175))
            ThreePointArc((-255.824998898, -3.175), (-258.999998898, 0), (-255.824998898, 3.175))
        make_face()
        with BuildLine():
            Line((-230.82499886, 3.175), (-219.17499886, 3.175))
            ThreePointArc((-219.17499886, 3.175), (-215.99999886, 0), (-219.17499886, -3.175))
            Line((-219.17499886, -3.175), (-230.82499886, -3.175))
            ThreePointArc((-230.82499886, -3.175), (-233.99999886, 0), (-230.82499886, 3.175))
        make_face()
        with BuildLine():
            Line((-205.824998822, 3.175), (-194.174998822, 3.175))
            ThreePointArc((-194.174998822, 3.175), (-190.999998822, 0), (-194.174998822, -3.175))
            Line((-194.174998822, -3.175), (-205.824998822, -3.175))
            ThreePointArc((-205.824998822, -3.175), (-208.999998822, 0), (-205.824998822, 3.175))
        make_face()
        with BuildLine():
            Line((-180.824998784, 3.175), (-169.174998784, 3.175))
            ThreePointArc((-169.174998784, 3.175), (-165.999998784, 0), (-169.174998784, -3.175))
            Line((-169.174998784, -3.175), (-180.824998784, -3.175))
            ThreePointArc((-180.824998784, -3.175), (-183.999998784, 0), (-180.824998784, 3.175))
        make_face()
        with BuildLine():
            Line((-155.824998746, 3.175), (-144.174998746, 3.175))
            ThreePointArc((-144.174998746, 3.175), (-140.999998746, 0), (-144.174998746, -3.175))
            Line((-144.174998746, -3.175), (-155.824998746, -3.175))
            ThreePointArc((-155.824998746, -3.175), (-158.999998746, 0), (-155.824998746, 3.175))
        make_face()
        with BuildLine():
            Line((-130.824998708, 3.175), (-119.174998708, 3.175))
            ThreePointArc((-119.174998708, 3.175), (-115.999998708, 0), (-119.174998708, -3.175))
            Line((-119.174998708, -3.175), (-130.824998708, -3.175))
            ThreePointArc((-130.824998708, -3.175), (-133.999998708, 0), (-130.824998708, 3.175))
        make_face()
        with BuildLine():
            Line((-105.82499867, 3.175), (-94.17499867, 3.175))
            ThreePointArc((-94.17499867, 3.175), (-90.99999867, 0), (-94.17499867, -3.175))
            Line((-94.17499867, -3.175), (-105.82499867, -3.175))
            ThreePointArc((-105.82499867, -3.175), (-108.99999867, 0), (-105.82499867, 3.175))
        make_face()
        with BuildLine():
            Line((-80.824998632, 3.175), (-69.174998632, 3.175))
            ThreePointArc((-69.174998632, 3.175), (-65.999998632, 0), (-69.174998632, -3.175))
            Line((-69.174998632, -3.175), (-80.824998632, -3.175))
            ThreePointArc((-80.824998632, -3.175), (-83.999998632, 0), (-80.824998632, 3.175))
        make_face()
        with BuildLine():
            Line((-55.824998594, 3.175), (-44.174998594, 3.175))
            ThreePointArc((-44.174998594, 3.175), (-40.999998594, 0), (-44.174998594, -3.175))
            Line((-44.174998594, -3.175), (-55.824998594, -3.175))
            ThreePointArc((-55.824998594, -3.175), (-58.999998594, 0), (-55.824998594, 3.175))
        make_face()
        with BuildLine():
            Line((-30.824998556, 3.175), (-19.174998556, 3.175))
            ThreePointArc((-19.174998556, 3.175), (-15.999998556, 0), (-19.174998556, -3.175))
            Line((-19.174998556, -3.175), (-30.824998556, -3.175))
            ThreePointArc((-30.824998556, -3.175), (-33.999998556, 0), (-30.824998556, 3.175))
        make_face()
    extrude(amount=-CUT_EXTRUDE1_DEPTH, mode=Mode.SUBTRACT)

    # Fillet1
    fillet1_edges = [part.edges().sort_by_distance(p)[0] for p in [
        (500, 13.462, -1.016),
        (500, -13.462, -1.016),
        (500, -12.446, 6.484),
        (500, 12.446, 6.484),
    ]]
    fillet(fillet1_edges, radius=FILLET1_R)

    # Fillet2
    fillet2_edges = [part.edges().sort_by_distance(p)[0] for p in [
        (500, 13.462, 5.484),
        (500, -13.462, 5.484),
        (500, -12.446, 0),
        (500, 12.446, 0),
    ]]
    fillet(fillet2_edges, radius=FILLET2_R)

    # Sketch3 → Cut-Extrude2 (cut, two sides: drawn at the far end of the back side and taken through both)
    with BuildSketch(Plane(origin=(0, 0, -1.016), x_dir=(-1, 0, 0), z_dir=(0, 0, -1)).offset(-CUT_EXTRUDE2_DEPTH_BACK)):
        with Locations((-868.3, 0)):
            Rectangle(SKETCH3_W, SKETCH3_H)
    extrude(amount=CUT_EXTRUDE2_DEPTH + CUT_EXTRUDE2_DEPTH_BACK, mode=Mode.SUBTRACT)


solid = part.part
